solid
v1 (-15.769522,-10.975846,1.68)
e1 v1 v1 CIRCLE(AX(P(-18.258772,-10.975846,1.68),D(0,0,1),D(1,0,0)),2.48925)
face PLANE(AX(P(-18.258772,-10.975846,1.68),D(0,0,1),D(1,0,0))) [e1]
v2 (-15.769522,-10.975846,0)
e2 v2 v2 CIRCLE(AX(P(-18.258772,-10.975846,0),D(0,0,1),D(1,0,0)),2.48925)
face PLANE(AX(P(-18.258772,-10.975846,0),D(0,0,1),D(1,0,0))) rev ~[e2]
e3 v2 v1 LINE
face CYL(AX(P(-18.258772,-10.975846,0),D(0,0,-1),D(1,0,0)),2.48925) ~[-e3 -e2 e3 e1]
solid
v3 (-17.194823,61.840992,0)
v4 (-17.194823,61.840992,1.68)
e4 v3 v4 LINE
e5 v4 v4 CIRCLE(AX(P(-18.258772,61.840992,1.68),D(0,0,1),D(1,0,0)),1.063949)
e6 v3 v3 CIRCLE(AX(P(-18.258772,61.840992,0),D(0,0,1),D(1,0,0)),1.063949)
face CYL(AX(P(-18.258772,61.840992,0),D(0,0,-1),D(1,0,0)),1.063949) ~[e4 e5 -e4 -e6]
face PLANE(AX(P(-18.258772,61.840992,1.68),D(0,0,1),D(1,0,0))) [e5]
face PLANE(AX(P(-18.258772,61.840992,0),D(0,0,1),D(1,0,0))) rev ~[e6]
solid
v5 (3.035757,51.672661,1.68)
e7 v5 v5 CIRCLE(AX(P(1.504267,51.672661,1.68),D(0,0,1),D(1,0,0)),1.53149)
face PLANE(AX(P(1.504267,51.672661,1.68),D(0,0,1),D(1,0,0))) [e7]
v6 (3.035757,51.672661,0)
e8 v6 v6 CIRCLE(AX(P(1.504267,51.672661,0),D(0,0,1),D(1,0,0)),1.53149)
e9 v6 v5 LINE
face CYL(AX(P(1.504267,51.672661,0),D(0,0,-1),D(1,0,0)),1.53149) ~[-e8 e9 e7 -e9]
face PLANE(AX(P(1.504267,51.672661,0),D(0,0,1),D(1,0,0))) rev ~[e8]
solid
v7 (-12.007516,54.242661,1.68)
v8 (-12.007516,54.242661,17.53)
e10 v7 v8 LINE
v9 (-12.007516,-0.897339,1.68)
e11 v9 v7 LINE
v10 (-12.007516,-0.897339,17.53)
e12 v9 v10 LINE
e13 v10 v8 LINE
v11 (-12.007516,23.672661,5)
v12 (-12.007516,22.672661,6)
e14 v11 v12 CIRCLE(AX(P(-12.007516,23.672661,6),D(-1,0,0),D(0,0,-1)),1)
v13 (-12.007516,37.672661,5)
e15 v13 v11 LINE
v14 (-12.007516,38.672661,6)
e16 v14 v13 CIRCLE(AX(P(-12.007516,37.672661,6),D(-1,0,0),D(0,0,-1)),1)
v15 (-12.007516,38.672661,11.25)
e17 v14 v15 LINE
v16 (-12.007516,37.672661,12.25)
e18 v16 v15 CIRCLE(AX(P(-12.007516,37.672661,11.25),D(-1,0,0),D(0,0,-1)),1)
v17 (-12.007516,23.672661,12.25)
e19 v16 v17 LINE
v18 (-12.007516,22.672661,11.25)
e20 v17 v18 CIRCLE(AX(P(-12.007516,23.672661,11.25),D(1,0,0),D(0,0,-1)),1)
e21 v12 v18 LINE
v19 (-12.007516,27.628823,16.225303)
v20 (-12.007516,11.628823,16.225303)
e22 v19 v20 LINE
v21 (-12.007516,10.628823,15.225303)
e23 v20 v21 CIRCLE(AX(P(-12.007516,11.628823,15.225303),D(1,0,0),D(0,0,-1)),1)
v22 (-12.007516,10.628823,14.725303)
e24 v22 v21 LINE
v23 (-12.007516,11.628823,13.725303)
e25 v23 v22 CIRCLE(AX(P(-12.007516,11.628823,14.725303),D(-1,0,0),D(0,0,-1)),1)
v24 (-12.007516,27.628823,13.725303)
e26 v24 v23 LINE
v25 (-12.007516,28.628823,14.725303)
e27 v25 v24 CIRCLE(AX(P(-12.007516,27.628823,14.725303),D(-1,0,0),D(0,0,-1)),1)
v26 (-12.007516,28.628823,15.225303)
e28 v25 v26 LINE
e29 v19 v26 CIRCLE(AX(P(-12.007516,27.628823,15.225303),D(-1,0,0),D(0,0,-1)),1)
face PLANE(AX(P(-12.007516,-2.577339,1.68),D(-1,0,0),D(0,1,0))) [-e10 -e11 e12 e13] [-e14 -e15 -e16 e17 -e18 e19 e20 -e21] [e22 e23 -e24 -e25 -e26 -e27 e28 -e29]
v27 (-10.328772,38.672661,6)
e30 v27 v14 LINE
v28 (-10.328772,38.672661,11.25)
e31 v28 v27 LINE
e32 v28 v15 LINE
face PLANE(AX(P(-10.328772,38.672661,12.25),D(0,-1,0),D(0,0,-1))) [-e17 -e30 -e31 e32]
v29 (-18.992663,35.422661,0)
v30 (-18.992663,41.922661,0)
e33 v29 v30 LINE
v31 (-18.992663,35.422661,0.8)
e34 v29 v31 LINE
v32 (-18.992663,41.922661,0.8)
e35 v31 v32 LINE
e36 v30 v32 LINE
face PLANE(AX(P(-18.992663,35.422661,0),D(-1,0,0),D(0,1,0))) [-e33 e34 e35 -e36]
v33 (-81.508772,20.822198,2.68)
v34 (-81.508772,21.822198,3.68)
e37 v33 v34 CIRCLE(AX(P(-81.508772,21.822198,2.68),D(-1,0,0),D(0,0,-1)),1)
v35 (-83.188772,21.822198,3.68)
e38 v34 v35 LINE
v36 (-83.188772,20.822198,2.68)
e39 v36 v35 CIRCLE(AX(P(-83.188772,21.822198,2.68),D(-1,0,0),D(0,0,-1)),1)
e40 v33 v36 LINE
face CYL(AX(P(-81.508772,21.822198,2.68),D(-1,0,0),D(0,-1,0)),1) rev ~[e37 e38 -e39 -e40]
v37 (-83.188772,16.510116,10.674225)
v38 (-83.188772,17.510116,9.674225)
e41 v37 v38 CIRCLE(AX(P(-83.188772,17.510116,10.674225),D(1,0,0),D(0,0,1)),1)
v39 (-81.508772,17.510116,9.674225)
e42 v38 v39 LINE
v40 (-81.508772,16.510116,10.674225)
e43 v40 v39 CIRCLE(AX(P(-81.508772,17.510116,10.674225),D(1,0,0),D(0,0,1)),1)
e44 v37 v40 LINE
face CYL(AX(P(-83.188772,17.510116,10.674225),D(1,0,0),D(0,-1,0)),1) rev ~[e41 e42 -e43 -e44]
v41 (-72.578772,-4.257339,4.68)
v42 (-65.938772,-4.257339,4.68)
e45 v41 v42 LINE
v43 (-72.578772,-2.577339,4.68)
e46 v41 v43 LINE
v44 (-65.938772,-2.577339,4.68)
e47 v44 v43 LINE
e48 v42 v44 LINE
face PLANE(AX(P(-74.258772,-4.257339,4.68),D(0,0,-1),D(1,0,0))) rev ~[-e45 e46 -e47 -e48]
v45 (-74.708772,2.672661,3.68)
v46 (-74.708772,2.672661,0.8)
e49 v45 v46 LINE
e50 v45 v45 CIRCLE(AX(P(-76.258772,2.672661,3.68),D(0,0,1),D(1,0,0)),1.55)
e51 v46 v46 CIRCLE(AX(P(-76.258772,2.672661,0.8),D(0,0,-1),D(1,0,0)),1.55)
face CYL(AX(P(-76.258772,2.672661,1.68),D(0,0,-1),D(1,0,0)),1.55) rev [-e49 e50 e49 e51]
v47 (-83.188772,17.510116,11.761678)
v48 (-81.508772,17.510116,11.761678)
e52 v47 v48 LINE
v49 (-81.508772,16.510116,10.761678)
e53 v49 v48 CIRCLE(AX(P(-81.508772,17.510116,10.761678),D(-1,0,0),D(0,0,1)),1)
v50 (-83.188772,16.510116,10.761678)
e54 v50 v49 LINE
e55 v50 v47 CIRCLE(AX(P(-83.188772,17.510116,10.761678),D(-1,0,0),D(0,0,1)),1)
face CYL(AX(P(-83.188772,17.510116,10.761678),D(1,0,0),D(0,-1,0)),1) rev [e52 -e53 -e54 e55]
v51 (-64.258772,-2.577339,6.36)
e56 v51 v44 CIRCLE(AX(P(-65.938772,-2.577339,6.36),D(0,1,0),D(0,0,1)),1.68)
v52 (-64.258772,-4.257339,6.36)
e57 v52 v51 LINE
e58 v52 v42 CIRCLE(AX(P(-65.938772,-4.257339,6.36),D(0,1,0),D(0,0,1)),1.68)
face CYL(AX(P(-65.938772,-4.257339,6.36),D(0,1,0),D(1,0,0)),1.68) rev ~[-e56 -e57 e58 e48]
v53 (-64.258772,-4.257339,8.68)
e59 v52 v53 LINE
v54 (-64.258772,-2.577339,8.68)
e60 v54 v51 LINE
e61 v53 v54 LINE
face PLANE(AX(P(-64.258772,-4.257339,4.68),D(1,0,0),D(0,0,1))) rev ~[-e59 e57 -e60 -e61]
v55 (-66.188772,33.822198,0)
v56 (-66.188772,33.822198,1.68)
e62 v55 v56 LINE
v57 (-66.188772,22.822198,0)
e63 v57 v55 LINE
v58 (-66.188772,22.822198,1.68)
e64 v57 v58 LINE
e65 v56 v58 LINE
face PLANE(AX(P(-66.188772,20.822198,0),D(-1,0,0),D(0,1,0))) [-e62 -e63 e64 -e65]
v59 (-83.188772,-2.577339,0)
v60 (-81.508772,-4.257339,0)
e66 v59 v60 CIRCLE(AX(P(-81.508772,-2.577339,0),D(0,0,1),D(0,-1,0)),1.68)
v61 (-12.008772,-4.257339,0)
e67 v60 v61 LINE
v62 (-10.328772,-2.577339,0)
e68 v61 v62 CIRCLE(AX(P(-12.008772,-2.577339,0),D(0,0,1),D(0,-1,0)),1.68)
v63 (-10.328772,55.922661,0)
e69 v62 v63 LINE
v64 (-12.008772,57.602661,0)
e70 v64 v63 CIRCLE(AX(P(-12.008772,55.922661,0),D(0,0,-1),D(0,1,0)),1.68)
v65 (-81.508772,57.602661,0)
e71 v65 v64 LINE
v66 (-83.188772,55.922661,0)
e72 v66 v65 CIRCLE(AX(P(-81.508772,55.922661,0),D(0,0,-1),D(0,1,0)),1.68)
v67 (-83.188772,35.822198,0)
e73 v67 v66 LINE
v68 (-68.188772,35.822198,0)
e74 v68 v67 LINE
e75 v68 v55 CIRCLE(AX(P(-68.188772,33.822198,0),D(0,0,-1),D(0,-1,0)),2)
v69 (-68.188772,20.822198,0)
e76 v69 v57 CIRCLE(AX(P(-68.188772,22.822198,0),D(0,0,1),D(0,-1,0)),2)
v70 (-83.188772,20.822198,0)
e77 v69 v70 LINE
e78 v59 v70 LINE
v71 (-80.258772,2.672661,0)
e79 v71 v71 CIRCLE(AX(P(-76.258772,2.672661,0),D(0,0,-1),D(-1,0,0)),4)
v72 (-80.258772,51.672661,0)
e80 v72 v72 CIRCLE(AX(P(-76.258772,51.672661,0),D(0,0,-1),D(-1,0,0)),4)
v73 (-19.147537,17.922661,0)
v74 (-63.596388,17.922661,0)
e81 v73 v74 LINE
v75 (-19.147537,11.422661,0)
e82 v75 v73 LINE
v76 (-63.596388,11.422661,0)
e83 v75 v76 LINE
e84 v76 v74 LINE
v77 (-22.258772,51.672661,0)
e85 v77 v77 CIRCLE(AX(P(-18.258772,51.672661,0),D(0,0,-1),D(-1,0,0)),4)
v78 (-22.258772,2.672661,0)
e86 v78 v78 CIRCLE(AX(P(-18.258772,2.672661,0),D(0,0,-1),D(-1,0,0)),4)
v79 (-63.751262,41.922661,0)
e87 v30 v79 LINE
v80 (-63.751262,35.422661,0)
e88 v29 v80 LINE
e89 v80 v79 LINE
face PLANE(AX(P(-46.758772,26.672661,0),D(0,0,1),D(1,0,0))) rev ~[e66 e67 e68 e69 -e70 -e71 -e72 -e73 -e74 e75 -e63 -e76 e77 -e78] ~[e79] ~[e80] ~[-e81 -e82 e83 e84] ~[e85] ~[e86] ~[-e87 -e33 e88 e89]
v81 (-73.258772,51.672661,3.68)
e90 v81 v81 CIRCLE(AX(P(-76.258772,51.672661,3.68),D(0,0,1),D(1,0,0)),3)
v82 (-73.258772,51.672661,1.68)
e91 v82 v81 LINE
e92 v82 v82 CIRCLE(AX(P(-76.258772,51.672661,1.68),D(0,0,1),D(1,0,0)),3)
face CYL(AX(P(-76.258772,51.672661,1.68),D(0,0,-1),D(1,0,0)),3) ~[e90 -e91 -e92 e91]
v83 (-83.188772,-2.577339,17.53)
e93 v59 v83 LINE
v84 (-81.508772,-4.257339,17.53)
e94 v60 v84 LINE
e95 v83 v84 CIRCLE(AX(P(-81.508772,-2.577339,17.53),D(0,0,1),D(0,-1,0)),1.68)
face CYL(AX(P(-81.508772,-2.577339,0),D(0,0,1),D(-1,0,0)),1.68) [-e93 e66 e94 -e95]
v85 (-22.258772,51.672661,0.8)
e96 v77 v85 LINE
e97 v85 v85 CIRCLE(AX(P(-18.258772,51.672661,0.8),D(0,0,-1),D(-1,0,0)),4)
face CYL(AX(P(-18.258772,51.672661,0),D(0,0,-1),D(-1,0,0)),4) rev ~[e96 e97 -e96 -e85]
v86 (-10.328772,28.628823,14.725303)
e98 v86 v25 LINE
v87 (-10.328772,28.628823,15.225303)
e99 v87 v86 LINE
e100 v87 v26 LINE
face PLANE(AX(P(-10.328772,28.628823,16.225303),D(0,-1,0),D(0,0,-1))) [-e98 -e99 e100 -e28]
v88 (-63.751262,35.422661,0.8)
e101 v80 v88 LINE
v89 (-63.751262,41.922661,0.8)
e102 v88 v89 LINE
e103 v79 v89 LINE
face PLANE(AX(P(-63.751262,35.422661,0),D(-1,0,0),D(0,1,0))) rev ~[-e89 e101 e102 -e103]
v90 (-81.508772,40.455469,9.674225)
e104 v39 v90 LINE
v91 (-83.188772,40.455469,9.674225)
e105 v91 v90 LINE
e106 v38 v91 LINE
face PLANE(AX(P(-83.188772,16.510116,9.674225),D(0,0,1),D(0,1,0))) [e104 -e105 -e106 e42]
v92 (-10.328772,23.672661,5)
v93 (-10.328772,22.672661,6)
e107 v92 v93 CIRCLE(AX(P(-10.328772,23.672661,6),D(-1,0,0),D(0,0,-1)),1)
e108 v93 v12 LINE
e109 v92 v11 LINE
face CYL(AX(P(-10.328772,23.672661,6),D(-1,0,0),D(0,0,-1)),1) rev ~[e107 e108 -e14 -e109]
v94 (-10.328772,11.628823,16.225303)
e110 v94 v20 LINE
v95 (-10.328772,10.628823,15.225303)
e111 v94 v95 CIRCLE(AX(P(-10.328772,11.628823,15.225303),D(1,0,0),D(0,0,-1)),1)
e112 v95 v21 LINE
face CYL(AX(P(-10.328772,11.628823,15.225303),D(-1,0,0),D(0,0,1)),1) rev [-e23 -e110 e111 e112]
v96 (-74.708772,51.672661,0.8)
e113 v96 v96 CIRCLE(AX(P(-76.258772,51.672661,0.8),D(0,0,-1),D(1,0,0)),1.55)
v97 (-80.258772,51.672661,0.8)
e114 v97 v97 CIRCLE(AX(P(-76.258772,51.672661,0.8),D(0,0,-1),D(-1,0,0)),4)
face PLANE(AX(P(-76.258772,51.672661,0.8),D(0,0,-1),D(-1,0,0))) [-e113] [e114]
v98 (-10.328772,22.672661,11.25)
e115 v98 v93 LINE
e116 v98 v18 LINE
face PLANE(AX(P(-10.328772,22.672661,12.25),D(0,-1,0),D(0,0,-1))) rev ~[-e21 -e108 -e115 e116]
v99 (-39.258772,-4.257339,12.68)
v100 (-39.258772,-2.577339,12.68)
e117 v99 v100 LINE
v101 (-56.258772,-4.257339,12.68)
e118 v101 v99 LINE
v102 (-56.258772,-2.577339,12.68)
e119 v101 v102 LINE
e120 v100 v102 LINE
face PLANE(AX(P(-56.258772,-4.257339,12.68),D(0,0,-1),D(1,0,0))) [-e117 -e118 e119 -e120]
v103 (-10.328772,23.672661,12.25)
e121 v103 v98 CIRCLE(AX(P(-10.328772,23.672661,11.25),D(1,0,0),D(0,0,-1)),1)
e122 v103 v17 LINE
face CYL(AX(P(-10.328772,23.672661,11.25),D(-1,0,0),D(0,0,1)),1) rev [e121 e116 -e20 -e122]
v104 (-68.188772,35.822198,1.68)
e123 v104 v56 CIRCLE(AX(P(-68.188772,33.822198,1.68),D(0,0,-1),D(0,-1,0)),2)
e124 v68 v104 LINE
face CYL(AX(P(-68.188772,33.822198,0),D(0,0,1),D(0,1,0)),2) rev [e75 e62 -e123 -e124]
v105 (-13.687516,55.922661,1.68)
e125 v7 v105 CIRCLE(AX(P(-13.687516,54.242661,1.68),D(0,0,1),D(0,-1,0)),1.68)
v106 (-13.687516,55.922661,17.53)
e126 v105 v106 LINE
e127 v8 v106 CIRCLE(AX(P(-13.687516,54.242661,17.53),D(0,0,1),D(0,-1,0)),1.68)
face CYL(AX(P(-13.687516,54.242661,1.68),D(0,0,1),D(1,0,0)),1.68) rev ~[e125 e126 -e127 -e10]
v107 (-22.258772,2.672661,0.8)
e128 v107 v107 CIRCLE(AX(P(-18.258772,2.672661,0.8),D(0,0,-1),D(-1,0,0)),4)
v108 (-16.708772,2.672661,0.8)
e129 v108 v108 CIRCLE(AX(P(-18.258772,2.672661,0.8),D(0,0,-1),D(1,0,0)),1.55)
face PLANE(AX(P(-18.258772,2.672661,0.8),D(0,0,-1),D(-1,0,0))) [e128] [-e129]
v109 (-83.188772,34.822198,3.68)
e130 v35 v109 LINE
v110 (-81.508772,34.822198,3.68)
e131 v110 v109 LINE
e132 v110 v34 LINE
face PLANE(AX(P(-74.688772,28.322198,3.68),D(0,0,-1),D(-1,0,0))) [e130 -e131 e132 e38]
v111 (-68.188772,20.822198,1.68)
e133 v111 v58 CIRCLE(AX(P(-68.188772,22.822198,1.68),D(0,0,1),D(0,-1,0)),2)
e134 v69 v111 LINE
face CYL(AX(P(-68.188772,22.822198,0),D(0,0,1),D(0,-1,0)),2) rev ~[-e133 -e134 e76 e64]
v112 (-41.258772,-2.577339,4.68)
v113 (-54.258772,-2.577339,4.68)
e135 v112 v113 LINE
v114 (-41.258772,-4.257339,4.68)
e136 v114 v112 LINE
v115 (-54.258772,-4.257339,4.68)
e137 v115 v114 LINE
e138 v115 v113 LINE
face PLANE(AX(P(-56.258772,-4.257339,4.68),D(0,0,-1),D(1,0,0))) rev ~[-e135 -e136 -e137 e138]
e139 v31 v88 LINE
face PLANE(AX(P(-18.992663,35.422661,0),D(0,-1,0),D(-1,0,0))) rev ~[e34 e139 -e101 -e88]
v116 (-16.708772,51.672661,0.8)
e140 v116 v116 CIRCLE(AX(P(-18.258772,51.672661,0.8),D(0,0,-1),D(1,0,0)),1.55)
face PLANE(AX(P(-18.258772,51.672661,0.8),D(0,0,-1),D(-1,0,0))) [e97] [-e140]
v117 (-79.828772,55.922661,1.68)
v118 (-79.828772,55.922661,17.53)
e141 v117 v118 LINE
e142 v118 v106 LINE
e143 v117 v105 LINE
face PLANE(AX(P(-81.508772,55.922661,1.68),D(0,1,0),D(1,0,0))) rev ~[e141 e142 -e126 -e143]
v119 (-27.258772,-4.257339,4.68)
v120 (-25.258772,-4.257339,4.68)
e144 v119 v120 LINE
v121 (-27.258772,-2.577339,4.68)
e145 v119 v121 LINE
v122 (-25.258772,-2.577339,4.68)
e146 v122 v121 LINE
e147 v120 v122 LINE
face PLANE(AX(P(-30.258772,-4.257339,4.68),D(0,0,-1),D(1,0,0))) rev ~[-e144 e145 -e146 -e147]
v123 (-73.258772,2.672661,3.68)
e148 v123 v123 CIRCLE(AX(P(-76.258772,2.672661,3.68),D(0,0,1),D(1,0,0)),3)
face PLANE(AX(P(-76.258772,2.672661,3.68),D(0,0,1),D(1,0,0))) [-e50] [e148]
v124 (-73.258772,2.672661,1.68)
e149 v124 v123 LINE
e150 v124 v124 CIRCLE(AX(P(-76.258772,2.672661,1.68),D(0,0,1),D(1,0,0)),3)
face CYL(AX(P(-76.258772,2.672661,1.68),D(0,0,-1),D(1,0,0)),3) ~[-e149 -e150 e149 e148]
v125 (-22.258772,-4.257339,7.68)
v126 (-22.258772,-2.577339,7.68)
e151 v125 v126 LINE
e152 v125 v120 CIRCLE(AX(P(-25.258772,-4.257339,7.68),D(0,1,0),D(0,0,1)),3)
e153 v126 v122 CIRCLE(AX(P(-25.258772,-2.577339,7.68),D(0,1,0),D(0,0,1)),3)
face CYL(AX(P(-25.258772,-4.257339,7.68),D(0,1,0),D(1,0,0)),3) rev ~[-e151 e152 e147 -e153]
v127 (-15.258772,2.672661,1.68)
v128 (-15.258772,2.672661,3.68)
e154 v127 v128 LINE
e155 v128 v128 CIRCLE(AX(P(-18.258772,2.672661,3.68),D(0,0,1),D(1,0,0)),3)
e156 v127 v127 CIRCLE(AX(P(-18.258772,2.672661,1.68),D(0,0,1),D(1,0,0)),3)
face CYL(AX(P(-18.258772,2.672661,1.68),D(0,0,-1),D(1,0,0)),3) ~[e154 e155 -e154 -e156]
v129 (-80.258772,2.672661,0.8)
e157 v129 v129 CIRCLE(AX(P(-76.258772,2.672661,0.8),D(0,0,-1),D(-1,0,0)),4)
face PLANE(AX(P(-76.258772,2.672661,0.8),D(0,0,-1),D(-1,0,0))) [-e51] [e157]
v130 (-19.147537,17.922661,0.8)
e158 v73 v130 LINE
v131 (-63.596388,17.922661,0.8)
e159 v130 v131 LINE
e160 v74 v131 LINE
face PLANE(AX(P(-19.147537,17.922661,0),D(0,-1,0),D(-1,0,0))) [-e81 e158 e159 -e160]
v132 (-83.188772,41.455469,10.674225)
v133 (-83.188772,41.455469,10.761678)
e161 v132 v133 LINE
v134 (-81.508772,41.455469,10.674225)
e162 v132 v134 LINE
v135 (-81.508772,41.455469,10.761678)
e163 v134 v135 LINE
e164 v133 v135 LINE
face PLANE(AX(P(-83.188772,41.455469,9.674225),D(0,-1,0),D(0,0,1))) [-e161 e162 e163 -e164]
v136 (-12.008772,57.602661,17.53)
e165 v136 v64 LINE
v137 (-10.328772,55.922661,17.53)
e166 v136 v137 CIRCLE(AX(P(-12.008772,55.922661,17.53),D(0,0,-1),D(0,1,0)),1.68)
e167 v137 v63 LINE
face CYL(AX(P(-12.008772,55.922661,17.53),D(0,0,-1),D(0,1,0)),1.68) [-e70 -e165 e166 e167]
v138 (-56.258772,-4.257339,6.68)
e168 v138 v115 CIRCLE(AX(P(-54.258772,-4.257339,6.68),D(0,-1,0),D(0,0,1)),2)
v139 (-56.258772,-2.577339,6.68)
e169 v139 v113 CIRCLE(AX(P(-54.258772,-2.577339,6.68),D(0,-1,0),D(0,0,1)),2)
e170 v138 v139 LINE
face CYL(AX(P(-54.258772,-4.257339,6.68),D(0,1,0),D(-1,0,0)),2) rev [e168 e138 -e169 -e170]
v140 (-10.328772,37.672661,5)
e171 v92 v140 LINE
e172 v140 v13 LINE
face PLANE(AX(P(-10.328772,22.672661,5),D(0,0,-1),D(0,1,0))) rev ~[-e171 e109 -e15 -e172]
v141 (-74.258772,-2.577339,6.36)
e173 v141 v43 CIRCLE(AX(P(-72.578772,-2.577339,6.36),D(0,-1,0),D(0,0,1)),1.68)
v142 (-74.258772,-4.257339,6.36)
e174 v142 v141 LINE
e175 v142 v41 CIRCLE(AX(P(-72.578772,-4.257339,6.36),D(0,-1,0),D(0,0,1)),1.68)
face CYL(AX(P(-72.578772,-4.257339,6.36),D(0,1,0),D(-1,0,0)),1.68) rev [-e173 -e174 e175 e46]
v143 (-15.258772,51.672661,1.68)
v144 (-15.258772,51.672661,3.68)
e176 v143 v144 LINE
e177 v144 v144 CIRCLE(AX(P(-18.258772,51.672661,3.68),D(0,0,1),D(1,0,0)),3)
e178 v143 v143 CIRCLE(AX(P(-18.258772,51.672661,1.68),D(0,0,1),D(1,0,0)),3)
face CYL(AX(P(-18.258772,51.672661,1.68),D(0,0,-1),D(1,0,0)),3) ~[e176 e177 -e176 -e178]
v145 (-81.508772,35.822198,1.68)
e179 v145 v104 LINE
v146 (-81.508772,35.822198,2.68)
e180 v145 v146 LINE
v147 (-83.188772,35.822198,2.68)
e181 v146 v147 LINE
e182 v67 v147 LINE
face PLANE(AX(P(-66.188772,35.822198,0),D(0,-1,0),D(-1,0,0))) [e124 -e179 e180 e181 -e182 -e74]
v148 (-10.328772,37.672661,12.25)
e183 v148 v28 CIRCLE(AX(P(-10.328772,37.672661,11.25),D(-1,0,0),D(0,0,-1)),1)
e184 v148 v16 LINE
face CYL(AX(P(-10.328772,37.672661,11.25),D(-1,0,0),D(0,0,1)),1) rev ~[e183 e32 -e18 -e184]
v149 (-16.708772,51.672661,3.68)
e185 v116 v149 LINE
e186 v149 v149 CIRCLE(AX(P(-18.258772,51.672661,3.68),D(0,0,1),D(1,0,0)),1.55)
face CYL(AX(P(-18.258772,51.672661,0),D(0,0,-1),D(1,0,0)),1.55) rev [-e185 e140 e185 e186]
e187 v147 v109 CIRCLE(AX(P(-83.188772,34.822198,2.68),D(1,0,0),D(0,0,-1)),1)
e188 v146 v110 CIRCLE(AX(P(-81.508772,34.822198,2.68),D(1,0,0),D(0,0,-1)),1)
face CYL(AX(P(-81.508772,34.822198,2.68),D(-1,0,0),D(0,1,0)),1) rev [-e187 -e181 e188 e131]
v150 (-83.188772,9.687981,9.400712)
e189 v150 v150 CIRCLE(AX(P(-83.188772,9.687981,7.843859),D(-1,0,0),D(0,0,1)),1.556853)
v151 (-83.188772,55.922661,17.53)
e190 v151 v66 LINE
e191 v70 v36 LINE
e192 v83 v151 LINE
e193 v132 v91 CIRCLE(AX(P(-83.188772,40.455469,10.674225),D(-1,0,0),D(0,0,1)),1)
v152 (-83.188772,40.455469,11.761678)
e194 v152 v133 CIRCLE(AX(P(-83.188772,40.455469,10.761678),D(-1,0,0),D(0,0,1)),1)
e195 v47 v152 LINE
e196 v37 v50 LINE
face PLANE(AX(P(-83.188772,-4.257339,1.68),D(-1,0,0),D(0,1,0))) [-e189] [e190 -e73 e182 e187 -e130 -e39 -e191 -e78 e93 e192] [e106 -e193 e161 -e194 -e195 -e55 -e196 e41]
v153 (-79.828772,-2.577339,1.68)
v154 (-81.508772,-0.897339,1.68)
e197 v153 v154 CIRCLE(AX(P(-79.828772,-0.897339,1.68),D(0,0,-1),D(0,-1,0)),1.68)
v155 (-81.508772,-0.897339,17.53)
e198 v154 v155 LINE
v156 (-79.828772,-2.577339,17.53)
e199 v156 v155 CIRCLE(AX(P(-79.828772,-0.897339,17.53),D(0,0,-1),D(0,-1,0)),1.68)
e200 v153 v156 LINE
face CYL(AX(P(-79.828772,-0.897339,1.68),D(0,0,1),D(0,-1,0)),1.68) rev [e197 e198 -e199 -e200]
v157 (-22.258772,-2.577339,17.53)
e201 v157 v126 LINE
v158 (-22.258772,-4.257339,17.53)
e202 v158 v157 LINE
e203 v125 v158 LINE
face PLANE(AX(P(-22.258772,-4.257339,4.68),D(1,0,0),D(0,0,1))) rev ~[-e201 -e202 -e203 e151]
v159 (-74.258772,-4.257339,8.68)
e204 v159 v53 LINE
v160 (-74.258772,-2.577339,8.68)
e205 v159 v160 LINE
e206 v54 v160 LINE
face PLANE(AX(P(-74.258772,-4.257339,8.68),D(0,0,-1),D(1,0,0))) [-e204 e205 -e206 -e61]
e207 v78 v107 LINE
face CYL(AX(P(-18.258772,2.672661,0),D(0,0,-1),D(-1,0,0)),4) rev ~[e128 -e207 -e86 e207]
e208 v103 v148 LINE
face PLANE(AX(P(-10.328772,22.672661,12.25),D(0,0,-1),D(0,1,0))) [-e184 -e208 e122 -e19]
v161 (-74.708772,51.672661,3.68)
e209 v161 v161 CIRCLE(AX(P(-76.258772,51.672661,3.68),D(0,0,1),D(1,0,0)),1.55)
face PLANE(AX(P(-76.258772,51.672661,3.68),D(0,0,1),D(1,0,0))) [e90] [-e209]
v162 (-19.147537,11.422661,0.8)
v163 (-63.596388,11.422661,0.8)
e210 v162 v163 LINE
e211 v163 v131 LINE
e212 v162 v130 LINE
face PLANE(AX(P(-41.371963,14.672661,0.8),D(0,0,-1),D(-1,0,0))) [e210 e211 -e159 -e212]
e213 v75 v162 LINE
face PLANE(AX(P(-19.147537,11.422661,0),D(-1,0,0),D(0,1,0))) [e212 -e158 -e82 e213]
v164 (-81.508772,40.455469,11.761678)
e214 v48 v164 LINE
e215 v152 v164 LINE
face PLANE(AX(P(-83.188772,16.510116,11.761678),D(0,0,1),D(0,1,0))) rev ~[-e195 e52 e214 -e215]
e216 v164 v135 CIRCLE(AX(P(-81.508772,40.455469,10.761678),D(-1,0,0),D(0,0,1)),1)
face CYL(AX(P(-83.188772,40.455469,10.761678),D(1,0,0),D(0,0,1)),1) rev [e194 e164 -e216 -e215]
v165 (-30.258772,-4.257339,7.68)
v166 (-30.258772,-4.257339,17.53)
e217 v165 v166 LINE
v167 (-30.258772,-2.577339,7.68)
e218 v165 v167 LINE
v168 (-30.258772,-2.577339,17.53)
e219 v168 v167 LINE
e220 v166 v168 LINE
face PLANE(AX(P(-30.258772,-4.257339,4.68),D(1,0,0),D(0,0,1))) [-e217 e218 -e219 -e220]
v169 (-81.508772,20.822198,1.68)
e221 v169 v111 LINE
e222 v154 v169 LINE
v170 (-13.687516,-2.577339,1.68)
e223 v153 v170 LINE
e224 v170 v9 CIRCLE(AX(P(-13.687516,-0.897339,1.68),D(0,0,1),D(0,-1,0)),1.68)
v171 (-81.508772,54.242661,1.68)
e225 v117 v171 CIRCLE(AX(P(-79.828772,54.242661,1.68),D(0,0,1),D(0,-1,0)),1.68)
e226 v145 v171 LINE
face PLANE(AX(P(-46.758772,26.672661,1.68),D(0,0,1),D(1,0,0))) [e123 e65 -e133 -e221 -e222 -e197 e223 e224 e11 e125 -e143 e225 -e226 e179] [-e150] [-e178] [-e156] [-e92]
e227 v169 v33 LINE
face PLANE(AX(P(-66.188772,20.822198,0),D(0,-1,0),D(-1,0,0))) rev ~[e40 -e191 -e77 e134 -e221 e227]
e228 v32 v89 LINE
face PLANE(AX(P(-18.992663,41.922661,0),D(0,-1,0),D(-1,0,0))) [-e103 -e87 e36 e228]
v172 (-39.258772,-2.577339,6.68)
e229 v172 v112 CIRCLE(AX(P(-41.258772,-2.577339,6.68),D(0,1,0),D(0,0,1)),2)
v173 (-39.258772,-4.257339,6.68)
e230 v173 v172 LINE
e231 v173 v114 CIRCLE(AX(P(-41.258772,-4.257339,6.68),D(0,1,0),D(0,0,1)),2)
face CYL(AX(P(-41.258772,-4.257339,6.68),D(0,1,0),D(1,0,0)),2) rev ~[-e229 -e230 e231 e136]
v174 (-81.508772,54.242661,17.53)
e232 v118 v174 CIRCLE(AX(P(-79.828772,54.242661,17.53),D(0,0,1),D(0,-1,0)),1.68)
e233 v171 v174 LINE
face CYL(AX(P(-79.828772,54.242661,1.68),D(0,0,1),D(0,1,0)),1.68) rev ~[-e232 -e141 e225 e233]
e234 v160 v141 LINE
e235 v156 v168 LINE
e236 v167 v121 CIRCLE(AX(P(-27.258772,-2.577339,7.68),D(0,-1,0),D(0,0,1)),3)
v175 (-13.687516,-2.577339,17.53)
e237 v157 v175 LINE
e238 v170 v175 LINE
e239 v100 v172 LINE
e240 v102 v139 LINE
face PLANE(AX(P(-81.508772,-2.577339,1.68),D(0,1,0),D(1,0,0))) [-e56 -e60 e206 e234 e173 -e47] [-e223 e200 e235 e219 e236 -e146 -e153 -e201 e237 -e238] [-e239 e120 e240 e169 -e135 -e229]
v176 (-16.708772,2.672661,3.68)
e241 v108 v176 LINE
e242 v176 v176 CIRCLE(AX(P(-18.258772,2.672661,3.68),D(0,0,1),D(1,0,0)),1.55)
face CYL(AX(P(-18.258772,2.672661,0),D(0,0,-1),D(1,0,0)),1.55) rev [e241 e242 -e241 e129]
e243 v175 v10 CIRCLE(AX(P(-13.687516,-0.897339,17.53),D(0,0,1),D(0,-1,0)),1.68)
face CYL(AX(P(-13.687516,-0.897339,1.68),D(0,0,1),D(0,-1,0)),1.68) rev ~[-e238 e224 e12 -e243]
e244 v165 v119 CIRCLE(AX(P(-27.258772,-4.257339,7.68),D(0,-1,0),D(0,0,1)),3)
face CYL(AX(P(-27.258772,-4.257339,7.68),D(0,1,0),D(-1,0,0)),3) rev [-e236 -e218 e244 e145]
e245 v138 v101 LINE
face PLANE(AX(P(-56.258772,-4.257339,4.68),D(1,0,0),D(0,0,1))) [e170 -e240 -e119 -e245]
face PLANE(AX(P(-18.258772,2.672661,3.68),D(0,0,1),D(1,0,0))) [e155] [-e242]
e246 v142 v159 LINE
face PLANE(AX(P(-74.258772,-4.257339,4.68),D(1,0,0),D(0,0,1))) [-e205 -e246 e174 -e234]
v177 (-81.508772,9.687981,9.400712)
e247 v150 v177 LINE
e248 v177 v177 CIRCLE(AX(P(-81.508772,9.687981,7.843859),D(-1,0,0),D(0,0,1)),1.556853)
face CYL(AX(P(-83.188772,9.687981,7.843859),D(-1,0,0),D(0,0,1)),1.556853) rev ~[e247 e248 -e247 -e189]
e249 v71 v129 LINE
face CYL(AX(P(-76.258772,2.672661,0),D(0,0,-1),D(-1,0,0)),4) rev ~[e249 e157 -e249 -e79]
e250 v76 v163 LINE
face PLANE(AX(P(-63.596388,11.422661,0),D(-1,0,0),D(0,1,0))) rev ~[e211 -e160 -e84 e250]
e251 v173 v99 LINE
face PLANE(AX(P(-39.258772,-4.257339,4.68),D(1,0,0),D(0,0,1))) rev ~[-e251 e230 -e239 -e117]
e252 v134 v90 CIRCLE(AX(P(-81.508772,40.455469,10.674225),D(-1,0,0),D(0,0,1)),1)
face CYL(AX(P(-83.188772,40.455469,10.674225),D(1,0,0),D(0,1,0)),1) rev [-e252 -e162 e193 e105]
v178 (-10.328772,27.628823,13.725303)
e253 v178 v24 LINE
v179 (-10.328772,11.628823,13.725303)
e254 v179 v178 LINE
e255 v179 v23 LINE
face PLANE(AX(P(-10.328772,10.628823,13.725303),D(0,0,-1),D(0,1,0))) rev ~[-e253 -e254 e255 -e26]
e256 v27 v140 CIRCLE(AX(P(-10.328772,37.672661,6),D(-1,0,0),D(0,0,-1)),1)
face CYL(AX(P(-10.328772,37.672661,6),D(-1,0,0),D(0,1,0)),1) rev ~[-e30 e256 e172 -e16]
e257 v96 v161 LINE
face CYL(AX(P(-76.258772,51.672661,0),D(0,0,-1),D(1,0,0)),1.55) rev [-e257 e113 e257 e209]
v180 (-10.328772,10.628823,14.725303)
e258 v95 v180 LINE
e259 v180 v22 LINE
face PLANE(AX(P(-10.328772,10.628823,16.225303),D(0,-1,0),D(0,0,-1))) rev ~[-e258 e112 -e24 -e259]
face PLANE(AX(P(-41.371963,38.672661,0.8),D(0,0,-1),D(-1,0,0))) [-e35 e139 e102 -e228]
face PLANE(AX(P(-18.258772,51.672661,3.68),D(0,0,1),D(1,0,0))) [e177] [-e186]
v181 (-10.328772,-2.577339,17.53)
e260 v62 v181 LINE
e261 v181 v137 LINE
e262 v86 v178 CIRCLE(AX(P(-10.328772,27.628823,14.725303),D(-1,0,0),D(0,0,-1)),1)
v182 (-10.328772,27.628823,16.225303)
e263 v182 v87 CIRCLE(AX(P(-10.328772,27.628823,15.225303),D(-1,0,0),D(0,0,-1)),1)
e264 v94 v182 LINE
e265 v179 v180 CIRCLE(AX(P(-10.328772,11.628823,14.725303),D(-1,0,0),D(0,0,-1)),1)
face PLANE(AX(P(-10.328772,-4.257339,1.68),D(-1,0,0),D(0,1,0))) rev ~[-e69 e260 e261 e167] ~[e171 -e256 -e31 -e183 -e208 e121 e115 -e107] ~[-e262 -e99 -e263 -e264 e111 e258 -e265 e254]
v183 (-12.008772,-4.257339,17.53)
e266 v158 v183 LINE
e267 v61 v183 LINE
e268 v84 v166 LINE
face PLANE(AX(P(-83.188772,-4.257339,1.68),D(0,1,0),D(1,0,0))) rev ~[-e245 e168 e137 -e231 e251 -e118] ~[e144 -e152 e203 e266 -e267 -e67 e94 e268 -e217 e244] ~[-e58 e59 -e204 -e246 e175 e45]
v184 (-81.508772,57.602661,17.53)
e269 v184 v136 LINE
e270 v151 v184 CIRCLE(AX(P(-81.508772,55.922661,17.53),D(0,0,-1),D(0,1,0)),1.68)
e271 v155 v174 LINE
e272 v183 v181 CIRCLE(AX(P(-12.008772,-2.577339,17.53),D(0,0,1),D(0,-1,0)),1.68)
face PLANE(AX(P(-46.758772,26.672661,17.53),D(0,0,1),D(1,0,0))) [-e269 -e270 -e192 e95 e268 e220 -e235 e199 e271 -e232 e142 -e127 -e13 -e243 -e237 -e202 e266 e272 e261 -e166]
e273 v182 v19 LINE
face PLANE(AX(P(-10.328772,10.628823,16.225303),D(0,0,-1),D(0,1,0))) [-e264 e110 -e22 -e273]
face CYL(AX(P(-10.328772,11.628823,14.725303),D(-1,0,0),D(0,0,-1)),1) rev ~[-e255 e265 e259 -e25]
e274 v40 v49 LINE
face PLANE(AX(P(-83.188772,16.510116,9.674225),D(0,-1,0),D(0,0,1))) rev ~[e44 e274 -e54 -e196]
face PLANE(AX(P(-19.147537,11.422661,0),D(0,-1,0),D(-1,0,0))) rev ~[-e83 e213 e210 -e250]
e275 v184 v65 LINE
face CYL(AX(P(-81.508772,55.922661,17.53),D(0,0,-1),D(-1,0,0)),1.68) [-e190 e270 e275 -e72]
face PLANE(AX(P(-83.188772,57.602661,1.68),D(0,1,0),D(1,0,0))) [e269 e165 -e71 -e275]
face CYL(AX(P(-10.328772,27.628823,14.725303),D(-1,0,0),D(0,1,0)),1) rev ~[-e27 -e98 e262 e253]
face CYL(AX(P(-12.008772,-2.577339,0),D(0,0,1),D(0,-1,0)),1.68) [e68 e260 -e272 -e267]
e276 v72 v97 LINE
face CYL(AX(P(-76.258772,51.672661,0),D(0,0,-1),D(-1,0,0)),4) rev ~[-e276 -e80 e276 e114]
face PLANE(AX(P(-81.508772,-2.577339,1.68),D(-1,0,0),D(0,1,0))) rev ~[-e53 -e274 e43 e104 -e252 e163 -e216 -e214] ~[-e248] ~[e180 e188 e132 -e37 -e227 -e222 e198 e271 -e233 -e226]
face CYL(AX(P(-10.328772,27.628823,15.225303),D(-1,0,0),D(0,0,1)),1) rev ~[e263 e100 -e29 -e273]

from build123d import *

# Parameters (mm, degrees)
SKETCH_1_R          = 1.531489915
EXTRUDE_1_DEPTH     = 1.68
SKETCH_1_R_2        = 1.063949022
EXTRUDE_1_2_DEPTH   = 1.68
SKETCH_1_R_3        = 2.489250022
EXTRUDE_1_3_DEPTH   = 1.68
SKETCH_1_W          = 72.86
SKETCH_1_H          = 61.86
SKETCH_1_R_4        = 1.55
EXTRUDE_1_4_DEPTH   = 1.68
SKETCH_2_R          = 3
SKETCH_2_R_2        = 1.55
EXTRUDE_3_DEPTH     = 2
SKETCH_3_W          = 72.86
SKETCH_3_H          = 61.86
SKETCH_3_W_2        = 69.50125591
SKETCH_3_H_2        = 58.5
EXTRUDE_4_DEPTH     = 15.85
SKETCH_4_W          = 17
SKETCH_4_H          = 15
CUT_EXTRUDE_1_DEPTH = 3.68
SKETCH_6_W          = 7.25
SKETCH_6_H          = 16
SKETCH_6_W_2        = 2.5
SKETCH_6_H_2        = 18
CUT_EXTRUDE_3_DEPTH = 7.8
SKETCH_7_W          = 10
SKETCH_7_H          = 4
SKETCH_7_W_2        = 17
SKETCH_7_H_2        = 8
SKETCH_7_W_3        = 8
SKETCH_7_H_3        = 13.300256909
CUT_EXTRUDE_5_DEPTH = 2
SKETCH_8_R          = 1.556852558
SKETCH_8_W          = 2.087452415
SKETCH_8_H          = 24.945353107
CUT_EXTRUDE_6_DEPTH = 2
FILLET_1_R          = 1.68
FILLET_2_R          = 2
FILLET_3_R          = 1.68
FILLET_4_R          = 2
FILLET_5_R          = 3
FILLET_6_R          = 1
FILLET_7_R          = 1
SKETCH_9_R          = 4
CUT_EXTRUDE_7_DEPTH = 0.8
SKETCH_10_W         = 44.758598589
SKETCH_10_H         = 6.5
SKETCH_10_W_2       = 44.448850503
CUT_EXTRUDE_8_DEPTH = 0.8


with BuildPart() as part:
    # 草图1 → 凸台-拉伸1 (new body)
    with BuildSketch(Plane.XY):
        with Locations((1.504266973, 51.672660554)):
            Circle(SKETCH_1_R)
    extrude(amount=EXTRUDE_1_DEPTH)


with BuildPart() as body_2:
    # 草图1 → Extrude 1 2 (new body)
    with BuildSketch(Plane.XY):
        with Locations((-18.258772408, 61.840992468)):
            Circle(SKETCH_1_R_2)
    extrude(amount=EXTRUDE_1_2_DEPTH)


with BuildPart() as body_3:
    # 草图1 → Extrude 1 3 (new body)
    with BuildSketch(Plane.XY):
        with Locations((-18.258772408, -10.975845657)):
            Circle(SKETCH_1_R_3)
    extrude(amount=EXTRUDE_1_3_DEPTH)


with BuildPart() as body_4:
    # 草图1 → Extrude 1 4 (new body)
    with BuildSketch(Plane.XY):
        with Locations((-46.758772408, 26.672660554)):
            Rectangle(SKETCH_1_W, SKETCH_1_H)
        with Locations((-76.258772408, 51.672660554)):
            Circle(SKETCH_1_R_4, mode=Mode.SUBTRACT)
        with Locations((-18.258772408, 51.672660554)):
            Circle(SKETCH_1_R_4, mode=Mode.SUBTRACT)
        with Locations((-76.258772408, 2.672660554)):
            Circle(SKETCH_1_R_4, mode=Mode.SUBTRACT)
        with Locations((-18.258772408, 2.672660554)):
            Circle(SKETCH_1_R_4, mode=Mode.SUBTRACT)
    extrude(amount=EXTRUDE_1_4_DEPTH)

    # 草图2 → 凸台-拉伸3 (add)
    # profile 1 of 4: a face of its own
    with BuildSketch(Plane.XY.offset(1.68)):
        with Locations((-76.258772408, 2.672660554)):
            Circle(SKETCH_2_R)
        with Locations((-76.258772408, 2.672660554)):
            Circle(SKETCH_2_R_2, mode=Mode.SUBTRACT)
    # profile 2 of 4: a face of its own
    with BuildSketch(Plane.XY.offset(1.68)):
        with Locations((-18.258772408, 2.672660554)):
            Circle(SKETCH_2_R)
        with Locations((-18.258772408, 2.672660554)):
            Circle(SKETCH_2_R_2, mode=Mode.SUBTRACT)
    # profile 3 of 4: a face of its own
    with BuildSketch(Plane.XY.offset(1.68)):
        with Locations((-76.258772408, 51.672660554)):
            Circle(SKETCH_2_R)
        with Locations((-76.258772408, 51.672660554)):
            Circle(SKETCH_2_R_2, mode=Mode.SUBTRACT)
    # profile 4 of 4: a face of its own
    with BuildSketch(Plane.XY.offset(1.68)):
        with Locations((-18.258772408, 51.672660554)):
            Circle(SKETCH_2_R)
        with Locations((-18.258772408, 51.672660554)):
            Circle(SKETCH_2_R_2, mode=Mode.SUBTRACT)
    extrude(amount=EXTRUDE_3_DEPTH)

    # 草图3 → 凸台-拉伸4 (add)
    with BuildSketch(Plane.XY.offset(1.68)):
        with Locations((-46.758772408, 26.672660554)):
            Rectangle(SKETCH_3_W, SKETCH_3_H)
        with Locations((-46.758144453, 26.672660554)):
            Rectangle(SKETCH_3_W_2, SKETCH_3_H_2, mode=Mode.SUBTRACT)
    extrude(amount=EXTRUDE_4_DEPTH)

    # 草图4 → 切除-拉伸1 (cut)
    with BuildSketch(Plane(origin=(0, 0, 0), x_dir=(-1, 0, 0), z_dir=(0, 0, -1))):
        with Locations((74.688772408, 28.322197805)):
            Rectangle(SKETCH_4_W, SKETCH_4_H)
    extrude(amount=-CUT_EXTRUDE_1_DEPTH, mode=Mode.SUBTRACT)

    # 草图6 → 切除-拉伸3 (cut)
    with BuildSketch(Plane(origin=(-10.328772408, 0, 0), x_dir=(0, 0, -1), z_dir=(1, 0, 0))):
        with Locations((-8.625, 30.672660554)):
            Rectangle(SKETCH_6_W, SKETCH_6_H)
        with Locations((-14.975303343, 19.628822862)):
            Rectangle(SKETCH_6_W_2, SKETCH_6_H_2)
    extrude(amount=-CUT_EXTRUDE_3_DEPTH, mode=Mode.SUBTRACT)

    # 草图7 → 切除-拉伸5 (cut)
    with BuildSketch(Plane.XZ.offset(4.257339446)):
        with Locations((-69.258772408, 6.68)):
            Rectangle(SKETCH_7_W, SKETCH_7_H)
        with Locations((-47.758772408, 8.68)):
            Rectangle(SKETCH_7_W_2, SKETCH_7_H_2)
        with Locations((-26.258772408, 11.330128455)):
            Rectangle(SKETCH_7_W_3, SKETCH_7_H_3)
    extrude(amount=-CUT_EXTRUDE_5_DEPTH, mode=Mode.SUBTRACT)

    # 草图8 → 切除-拉伸6 (cut)
    with BuildSketch(Plane.ZY.offset(83.188772408)):
        with Locations((7.843859074, 9.687980695)):
            Circle(SKETCH_8_R)
        with Locations((10.717951448, 28.982792683)):
            Rectangle(SKETCH_8_W, SKETCH_8_H)
    extrude(amount=-CUT_EXTRUDE_6_DEPTH, mode=Mode.SUBTRACT)

    # 圆角1
    fillet_1_edges = [body_4.edges().sort_by_distance(p)[0] for p in [
        (-12.007516498, 55.922660554, 9.605),
        (-81.508772408, 55.922660554, 9.605),
        (-81.508772408, -2.577339446, 9.605),
        (-12.007516498, -2.577339446, 9.605),
        (-10.328772408, -4.257339446, 8.765),
        (-83.188772408, -4.257339446, 8.765),
        (-83.188772408, 57.602660554, 8.765),
        (-10.328772408, 57.602660554, 8.765),
    ]]
    fillet(fillet_1_edges, radius=FILLET_1_R)

    # 圆角2
    fillet_2_edges = [body_4.edges().sort_by_distance(p)[0] for p in [
        (-66.188772408, 20.822197805, 0.84),
        (-66.188772408, 35.822197805, 0.84),
    ]]
    fillet(fillet_2_edges, radius=FILLET_2_R)

    # 圆角3
    fillet_3_edges = [body_4.edges().sort_by_distance(p)[0] for p in [
        (-74.258772408, -3.417339446, 4.68),
        (-64.258772408, -3.417339446, 4.68),
    ]]
    fillet(fillet_3_edges, radius=FILLET_3_R)

    # 圆角4
    fillet_4_edges = [body_4.edges().sort_by_distance(p)[0] for p in [
        (-56.258772408, -3.417339446, 4.68),
        (-39.258772408, -3.417339446, 4.68),
    ]]
    fillet(fillet_4_edges, radius=FILLET_4_R)

    # 圆角5
    fillet_5_edges = [body_4.edges().sort_by_distance(p)[0] for p in [
        (-30.258772408, -3.417339446, 4.68),
        (-22.258772408, -3.417339446, 4.68),
    ]]
    fillet(fillet_5_edges, radius=FILLET_5_R)

    # 圆角6
    fillet_6_edges = [body_4.edges().sort_by_distance(p)[0] for p in [
        (-11.168144453, 10.628822862, 16.225303343),
        (-11.168144453, 28.628822862, 16.225303343),
        (-11.168144453, 28.628822862, 13.725303343),
        (-11.168144453, 10.628822862, 13.725303343),
    ]]
    fillet(fillet_6_edges, radius=FILLET_6_R)

    # 圆角7
    fillet_7_edges = [body_4.edges().sort_by_distance(p)[0] for p in [
        (-11.168144453, 38.672660554, 5),
        (-11.168144453, 22.672660554, 5),
        (-11.168144453, 22.672660554, 12.25),
        (-11.168144453, 38.672660554, 12.25),
        (-82.348772408, 16.510116129, 9.67422524),
        (-82.348772408, 41.455469236, 9.67422524),
        (-82.348772408, 41.455469236, 11.761677655),
        (-82.348772408, 16.510116129, 11.761677655),
        (-82.348772408, 20.822197805, 3.68),
        (-82.348772408, 35.822197805, 3.68),
    ]]
    fillet(fillet_7_edges, radius=FILLET_7_R)

    # 草图9 → 切除-拉伸7 (cut)
    with BuildSketch(Plane(origin=(0, 0, 0), x_dir=(-1, 0, 0), z_dir=(0, 0, -1))):
        with Locations((18.258772408, 51.672660554)):
            Circle(SKETCH_9_R)
        with Locations((76.258772408, 51.672660554)):
            Circle(SKETCH_9_R)
        with Locations((18.258772408, 2.672660554)):
            Circle(SKETCH_9_R)
        with Locations((76.258772408, 2.672660554)):
            Circle(SKETCH_9_R)
    extrude(amount=-CUT_EXTRUDE_7_DEPTH, mode=Mode.SUBTRACT)

    # 草图10 → 切除-拉伸8 (cut)
    with BuildSketch(Plane(origin=(0, 0, 0), x_dir=(-1, 0, 0), z_dir=(0, 0, -1))):
        with Locations((41.37196271, 38.672660554)):
            Rectangle(SKETCH_10_W, SKETCH_10_H)
        with Locations((41.37196271, 14.672660554)):
            Rectangle(SKETCH_10_W_2, SKETCH_10_H)
    extrude(amount=-CUT_EXTRUDE_8_DEPTH, mode=Mode.SUBTRACT)


solid = Compound([part.part, body_2.part, body_3.part, body_4.part])
